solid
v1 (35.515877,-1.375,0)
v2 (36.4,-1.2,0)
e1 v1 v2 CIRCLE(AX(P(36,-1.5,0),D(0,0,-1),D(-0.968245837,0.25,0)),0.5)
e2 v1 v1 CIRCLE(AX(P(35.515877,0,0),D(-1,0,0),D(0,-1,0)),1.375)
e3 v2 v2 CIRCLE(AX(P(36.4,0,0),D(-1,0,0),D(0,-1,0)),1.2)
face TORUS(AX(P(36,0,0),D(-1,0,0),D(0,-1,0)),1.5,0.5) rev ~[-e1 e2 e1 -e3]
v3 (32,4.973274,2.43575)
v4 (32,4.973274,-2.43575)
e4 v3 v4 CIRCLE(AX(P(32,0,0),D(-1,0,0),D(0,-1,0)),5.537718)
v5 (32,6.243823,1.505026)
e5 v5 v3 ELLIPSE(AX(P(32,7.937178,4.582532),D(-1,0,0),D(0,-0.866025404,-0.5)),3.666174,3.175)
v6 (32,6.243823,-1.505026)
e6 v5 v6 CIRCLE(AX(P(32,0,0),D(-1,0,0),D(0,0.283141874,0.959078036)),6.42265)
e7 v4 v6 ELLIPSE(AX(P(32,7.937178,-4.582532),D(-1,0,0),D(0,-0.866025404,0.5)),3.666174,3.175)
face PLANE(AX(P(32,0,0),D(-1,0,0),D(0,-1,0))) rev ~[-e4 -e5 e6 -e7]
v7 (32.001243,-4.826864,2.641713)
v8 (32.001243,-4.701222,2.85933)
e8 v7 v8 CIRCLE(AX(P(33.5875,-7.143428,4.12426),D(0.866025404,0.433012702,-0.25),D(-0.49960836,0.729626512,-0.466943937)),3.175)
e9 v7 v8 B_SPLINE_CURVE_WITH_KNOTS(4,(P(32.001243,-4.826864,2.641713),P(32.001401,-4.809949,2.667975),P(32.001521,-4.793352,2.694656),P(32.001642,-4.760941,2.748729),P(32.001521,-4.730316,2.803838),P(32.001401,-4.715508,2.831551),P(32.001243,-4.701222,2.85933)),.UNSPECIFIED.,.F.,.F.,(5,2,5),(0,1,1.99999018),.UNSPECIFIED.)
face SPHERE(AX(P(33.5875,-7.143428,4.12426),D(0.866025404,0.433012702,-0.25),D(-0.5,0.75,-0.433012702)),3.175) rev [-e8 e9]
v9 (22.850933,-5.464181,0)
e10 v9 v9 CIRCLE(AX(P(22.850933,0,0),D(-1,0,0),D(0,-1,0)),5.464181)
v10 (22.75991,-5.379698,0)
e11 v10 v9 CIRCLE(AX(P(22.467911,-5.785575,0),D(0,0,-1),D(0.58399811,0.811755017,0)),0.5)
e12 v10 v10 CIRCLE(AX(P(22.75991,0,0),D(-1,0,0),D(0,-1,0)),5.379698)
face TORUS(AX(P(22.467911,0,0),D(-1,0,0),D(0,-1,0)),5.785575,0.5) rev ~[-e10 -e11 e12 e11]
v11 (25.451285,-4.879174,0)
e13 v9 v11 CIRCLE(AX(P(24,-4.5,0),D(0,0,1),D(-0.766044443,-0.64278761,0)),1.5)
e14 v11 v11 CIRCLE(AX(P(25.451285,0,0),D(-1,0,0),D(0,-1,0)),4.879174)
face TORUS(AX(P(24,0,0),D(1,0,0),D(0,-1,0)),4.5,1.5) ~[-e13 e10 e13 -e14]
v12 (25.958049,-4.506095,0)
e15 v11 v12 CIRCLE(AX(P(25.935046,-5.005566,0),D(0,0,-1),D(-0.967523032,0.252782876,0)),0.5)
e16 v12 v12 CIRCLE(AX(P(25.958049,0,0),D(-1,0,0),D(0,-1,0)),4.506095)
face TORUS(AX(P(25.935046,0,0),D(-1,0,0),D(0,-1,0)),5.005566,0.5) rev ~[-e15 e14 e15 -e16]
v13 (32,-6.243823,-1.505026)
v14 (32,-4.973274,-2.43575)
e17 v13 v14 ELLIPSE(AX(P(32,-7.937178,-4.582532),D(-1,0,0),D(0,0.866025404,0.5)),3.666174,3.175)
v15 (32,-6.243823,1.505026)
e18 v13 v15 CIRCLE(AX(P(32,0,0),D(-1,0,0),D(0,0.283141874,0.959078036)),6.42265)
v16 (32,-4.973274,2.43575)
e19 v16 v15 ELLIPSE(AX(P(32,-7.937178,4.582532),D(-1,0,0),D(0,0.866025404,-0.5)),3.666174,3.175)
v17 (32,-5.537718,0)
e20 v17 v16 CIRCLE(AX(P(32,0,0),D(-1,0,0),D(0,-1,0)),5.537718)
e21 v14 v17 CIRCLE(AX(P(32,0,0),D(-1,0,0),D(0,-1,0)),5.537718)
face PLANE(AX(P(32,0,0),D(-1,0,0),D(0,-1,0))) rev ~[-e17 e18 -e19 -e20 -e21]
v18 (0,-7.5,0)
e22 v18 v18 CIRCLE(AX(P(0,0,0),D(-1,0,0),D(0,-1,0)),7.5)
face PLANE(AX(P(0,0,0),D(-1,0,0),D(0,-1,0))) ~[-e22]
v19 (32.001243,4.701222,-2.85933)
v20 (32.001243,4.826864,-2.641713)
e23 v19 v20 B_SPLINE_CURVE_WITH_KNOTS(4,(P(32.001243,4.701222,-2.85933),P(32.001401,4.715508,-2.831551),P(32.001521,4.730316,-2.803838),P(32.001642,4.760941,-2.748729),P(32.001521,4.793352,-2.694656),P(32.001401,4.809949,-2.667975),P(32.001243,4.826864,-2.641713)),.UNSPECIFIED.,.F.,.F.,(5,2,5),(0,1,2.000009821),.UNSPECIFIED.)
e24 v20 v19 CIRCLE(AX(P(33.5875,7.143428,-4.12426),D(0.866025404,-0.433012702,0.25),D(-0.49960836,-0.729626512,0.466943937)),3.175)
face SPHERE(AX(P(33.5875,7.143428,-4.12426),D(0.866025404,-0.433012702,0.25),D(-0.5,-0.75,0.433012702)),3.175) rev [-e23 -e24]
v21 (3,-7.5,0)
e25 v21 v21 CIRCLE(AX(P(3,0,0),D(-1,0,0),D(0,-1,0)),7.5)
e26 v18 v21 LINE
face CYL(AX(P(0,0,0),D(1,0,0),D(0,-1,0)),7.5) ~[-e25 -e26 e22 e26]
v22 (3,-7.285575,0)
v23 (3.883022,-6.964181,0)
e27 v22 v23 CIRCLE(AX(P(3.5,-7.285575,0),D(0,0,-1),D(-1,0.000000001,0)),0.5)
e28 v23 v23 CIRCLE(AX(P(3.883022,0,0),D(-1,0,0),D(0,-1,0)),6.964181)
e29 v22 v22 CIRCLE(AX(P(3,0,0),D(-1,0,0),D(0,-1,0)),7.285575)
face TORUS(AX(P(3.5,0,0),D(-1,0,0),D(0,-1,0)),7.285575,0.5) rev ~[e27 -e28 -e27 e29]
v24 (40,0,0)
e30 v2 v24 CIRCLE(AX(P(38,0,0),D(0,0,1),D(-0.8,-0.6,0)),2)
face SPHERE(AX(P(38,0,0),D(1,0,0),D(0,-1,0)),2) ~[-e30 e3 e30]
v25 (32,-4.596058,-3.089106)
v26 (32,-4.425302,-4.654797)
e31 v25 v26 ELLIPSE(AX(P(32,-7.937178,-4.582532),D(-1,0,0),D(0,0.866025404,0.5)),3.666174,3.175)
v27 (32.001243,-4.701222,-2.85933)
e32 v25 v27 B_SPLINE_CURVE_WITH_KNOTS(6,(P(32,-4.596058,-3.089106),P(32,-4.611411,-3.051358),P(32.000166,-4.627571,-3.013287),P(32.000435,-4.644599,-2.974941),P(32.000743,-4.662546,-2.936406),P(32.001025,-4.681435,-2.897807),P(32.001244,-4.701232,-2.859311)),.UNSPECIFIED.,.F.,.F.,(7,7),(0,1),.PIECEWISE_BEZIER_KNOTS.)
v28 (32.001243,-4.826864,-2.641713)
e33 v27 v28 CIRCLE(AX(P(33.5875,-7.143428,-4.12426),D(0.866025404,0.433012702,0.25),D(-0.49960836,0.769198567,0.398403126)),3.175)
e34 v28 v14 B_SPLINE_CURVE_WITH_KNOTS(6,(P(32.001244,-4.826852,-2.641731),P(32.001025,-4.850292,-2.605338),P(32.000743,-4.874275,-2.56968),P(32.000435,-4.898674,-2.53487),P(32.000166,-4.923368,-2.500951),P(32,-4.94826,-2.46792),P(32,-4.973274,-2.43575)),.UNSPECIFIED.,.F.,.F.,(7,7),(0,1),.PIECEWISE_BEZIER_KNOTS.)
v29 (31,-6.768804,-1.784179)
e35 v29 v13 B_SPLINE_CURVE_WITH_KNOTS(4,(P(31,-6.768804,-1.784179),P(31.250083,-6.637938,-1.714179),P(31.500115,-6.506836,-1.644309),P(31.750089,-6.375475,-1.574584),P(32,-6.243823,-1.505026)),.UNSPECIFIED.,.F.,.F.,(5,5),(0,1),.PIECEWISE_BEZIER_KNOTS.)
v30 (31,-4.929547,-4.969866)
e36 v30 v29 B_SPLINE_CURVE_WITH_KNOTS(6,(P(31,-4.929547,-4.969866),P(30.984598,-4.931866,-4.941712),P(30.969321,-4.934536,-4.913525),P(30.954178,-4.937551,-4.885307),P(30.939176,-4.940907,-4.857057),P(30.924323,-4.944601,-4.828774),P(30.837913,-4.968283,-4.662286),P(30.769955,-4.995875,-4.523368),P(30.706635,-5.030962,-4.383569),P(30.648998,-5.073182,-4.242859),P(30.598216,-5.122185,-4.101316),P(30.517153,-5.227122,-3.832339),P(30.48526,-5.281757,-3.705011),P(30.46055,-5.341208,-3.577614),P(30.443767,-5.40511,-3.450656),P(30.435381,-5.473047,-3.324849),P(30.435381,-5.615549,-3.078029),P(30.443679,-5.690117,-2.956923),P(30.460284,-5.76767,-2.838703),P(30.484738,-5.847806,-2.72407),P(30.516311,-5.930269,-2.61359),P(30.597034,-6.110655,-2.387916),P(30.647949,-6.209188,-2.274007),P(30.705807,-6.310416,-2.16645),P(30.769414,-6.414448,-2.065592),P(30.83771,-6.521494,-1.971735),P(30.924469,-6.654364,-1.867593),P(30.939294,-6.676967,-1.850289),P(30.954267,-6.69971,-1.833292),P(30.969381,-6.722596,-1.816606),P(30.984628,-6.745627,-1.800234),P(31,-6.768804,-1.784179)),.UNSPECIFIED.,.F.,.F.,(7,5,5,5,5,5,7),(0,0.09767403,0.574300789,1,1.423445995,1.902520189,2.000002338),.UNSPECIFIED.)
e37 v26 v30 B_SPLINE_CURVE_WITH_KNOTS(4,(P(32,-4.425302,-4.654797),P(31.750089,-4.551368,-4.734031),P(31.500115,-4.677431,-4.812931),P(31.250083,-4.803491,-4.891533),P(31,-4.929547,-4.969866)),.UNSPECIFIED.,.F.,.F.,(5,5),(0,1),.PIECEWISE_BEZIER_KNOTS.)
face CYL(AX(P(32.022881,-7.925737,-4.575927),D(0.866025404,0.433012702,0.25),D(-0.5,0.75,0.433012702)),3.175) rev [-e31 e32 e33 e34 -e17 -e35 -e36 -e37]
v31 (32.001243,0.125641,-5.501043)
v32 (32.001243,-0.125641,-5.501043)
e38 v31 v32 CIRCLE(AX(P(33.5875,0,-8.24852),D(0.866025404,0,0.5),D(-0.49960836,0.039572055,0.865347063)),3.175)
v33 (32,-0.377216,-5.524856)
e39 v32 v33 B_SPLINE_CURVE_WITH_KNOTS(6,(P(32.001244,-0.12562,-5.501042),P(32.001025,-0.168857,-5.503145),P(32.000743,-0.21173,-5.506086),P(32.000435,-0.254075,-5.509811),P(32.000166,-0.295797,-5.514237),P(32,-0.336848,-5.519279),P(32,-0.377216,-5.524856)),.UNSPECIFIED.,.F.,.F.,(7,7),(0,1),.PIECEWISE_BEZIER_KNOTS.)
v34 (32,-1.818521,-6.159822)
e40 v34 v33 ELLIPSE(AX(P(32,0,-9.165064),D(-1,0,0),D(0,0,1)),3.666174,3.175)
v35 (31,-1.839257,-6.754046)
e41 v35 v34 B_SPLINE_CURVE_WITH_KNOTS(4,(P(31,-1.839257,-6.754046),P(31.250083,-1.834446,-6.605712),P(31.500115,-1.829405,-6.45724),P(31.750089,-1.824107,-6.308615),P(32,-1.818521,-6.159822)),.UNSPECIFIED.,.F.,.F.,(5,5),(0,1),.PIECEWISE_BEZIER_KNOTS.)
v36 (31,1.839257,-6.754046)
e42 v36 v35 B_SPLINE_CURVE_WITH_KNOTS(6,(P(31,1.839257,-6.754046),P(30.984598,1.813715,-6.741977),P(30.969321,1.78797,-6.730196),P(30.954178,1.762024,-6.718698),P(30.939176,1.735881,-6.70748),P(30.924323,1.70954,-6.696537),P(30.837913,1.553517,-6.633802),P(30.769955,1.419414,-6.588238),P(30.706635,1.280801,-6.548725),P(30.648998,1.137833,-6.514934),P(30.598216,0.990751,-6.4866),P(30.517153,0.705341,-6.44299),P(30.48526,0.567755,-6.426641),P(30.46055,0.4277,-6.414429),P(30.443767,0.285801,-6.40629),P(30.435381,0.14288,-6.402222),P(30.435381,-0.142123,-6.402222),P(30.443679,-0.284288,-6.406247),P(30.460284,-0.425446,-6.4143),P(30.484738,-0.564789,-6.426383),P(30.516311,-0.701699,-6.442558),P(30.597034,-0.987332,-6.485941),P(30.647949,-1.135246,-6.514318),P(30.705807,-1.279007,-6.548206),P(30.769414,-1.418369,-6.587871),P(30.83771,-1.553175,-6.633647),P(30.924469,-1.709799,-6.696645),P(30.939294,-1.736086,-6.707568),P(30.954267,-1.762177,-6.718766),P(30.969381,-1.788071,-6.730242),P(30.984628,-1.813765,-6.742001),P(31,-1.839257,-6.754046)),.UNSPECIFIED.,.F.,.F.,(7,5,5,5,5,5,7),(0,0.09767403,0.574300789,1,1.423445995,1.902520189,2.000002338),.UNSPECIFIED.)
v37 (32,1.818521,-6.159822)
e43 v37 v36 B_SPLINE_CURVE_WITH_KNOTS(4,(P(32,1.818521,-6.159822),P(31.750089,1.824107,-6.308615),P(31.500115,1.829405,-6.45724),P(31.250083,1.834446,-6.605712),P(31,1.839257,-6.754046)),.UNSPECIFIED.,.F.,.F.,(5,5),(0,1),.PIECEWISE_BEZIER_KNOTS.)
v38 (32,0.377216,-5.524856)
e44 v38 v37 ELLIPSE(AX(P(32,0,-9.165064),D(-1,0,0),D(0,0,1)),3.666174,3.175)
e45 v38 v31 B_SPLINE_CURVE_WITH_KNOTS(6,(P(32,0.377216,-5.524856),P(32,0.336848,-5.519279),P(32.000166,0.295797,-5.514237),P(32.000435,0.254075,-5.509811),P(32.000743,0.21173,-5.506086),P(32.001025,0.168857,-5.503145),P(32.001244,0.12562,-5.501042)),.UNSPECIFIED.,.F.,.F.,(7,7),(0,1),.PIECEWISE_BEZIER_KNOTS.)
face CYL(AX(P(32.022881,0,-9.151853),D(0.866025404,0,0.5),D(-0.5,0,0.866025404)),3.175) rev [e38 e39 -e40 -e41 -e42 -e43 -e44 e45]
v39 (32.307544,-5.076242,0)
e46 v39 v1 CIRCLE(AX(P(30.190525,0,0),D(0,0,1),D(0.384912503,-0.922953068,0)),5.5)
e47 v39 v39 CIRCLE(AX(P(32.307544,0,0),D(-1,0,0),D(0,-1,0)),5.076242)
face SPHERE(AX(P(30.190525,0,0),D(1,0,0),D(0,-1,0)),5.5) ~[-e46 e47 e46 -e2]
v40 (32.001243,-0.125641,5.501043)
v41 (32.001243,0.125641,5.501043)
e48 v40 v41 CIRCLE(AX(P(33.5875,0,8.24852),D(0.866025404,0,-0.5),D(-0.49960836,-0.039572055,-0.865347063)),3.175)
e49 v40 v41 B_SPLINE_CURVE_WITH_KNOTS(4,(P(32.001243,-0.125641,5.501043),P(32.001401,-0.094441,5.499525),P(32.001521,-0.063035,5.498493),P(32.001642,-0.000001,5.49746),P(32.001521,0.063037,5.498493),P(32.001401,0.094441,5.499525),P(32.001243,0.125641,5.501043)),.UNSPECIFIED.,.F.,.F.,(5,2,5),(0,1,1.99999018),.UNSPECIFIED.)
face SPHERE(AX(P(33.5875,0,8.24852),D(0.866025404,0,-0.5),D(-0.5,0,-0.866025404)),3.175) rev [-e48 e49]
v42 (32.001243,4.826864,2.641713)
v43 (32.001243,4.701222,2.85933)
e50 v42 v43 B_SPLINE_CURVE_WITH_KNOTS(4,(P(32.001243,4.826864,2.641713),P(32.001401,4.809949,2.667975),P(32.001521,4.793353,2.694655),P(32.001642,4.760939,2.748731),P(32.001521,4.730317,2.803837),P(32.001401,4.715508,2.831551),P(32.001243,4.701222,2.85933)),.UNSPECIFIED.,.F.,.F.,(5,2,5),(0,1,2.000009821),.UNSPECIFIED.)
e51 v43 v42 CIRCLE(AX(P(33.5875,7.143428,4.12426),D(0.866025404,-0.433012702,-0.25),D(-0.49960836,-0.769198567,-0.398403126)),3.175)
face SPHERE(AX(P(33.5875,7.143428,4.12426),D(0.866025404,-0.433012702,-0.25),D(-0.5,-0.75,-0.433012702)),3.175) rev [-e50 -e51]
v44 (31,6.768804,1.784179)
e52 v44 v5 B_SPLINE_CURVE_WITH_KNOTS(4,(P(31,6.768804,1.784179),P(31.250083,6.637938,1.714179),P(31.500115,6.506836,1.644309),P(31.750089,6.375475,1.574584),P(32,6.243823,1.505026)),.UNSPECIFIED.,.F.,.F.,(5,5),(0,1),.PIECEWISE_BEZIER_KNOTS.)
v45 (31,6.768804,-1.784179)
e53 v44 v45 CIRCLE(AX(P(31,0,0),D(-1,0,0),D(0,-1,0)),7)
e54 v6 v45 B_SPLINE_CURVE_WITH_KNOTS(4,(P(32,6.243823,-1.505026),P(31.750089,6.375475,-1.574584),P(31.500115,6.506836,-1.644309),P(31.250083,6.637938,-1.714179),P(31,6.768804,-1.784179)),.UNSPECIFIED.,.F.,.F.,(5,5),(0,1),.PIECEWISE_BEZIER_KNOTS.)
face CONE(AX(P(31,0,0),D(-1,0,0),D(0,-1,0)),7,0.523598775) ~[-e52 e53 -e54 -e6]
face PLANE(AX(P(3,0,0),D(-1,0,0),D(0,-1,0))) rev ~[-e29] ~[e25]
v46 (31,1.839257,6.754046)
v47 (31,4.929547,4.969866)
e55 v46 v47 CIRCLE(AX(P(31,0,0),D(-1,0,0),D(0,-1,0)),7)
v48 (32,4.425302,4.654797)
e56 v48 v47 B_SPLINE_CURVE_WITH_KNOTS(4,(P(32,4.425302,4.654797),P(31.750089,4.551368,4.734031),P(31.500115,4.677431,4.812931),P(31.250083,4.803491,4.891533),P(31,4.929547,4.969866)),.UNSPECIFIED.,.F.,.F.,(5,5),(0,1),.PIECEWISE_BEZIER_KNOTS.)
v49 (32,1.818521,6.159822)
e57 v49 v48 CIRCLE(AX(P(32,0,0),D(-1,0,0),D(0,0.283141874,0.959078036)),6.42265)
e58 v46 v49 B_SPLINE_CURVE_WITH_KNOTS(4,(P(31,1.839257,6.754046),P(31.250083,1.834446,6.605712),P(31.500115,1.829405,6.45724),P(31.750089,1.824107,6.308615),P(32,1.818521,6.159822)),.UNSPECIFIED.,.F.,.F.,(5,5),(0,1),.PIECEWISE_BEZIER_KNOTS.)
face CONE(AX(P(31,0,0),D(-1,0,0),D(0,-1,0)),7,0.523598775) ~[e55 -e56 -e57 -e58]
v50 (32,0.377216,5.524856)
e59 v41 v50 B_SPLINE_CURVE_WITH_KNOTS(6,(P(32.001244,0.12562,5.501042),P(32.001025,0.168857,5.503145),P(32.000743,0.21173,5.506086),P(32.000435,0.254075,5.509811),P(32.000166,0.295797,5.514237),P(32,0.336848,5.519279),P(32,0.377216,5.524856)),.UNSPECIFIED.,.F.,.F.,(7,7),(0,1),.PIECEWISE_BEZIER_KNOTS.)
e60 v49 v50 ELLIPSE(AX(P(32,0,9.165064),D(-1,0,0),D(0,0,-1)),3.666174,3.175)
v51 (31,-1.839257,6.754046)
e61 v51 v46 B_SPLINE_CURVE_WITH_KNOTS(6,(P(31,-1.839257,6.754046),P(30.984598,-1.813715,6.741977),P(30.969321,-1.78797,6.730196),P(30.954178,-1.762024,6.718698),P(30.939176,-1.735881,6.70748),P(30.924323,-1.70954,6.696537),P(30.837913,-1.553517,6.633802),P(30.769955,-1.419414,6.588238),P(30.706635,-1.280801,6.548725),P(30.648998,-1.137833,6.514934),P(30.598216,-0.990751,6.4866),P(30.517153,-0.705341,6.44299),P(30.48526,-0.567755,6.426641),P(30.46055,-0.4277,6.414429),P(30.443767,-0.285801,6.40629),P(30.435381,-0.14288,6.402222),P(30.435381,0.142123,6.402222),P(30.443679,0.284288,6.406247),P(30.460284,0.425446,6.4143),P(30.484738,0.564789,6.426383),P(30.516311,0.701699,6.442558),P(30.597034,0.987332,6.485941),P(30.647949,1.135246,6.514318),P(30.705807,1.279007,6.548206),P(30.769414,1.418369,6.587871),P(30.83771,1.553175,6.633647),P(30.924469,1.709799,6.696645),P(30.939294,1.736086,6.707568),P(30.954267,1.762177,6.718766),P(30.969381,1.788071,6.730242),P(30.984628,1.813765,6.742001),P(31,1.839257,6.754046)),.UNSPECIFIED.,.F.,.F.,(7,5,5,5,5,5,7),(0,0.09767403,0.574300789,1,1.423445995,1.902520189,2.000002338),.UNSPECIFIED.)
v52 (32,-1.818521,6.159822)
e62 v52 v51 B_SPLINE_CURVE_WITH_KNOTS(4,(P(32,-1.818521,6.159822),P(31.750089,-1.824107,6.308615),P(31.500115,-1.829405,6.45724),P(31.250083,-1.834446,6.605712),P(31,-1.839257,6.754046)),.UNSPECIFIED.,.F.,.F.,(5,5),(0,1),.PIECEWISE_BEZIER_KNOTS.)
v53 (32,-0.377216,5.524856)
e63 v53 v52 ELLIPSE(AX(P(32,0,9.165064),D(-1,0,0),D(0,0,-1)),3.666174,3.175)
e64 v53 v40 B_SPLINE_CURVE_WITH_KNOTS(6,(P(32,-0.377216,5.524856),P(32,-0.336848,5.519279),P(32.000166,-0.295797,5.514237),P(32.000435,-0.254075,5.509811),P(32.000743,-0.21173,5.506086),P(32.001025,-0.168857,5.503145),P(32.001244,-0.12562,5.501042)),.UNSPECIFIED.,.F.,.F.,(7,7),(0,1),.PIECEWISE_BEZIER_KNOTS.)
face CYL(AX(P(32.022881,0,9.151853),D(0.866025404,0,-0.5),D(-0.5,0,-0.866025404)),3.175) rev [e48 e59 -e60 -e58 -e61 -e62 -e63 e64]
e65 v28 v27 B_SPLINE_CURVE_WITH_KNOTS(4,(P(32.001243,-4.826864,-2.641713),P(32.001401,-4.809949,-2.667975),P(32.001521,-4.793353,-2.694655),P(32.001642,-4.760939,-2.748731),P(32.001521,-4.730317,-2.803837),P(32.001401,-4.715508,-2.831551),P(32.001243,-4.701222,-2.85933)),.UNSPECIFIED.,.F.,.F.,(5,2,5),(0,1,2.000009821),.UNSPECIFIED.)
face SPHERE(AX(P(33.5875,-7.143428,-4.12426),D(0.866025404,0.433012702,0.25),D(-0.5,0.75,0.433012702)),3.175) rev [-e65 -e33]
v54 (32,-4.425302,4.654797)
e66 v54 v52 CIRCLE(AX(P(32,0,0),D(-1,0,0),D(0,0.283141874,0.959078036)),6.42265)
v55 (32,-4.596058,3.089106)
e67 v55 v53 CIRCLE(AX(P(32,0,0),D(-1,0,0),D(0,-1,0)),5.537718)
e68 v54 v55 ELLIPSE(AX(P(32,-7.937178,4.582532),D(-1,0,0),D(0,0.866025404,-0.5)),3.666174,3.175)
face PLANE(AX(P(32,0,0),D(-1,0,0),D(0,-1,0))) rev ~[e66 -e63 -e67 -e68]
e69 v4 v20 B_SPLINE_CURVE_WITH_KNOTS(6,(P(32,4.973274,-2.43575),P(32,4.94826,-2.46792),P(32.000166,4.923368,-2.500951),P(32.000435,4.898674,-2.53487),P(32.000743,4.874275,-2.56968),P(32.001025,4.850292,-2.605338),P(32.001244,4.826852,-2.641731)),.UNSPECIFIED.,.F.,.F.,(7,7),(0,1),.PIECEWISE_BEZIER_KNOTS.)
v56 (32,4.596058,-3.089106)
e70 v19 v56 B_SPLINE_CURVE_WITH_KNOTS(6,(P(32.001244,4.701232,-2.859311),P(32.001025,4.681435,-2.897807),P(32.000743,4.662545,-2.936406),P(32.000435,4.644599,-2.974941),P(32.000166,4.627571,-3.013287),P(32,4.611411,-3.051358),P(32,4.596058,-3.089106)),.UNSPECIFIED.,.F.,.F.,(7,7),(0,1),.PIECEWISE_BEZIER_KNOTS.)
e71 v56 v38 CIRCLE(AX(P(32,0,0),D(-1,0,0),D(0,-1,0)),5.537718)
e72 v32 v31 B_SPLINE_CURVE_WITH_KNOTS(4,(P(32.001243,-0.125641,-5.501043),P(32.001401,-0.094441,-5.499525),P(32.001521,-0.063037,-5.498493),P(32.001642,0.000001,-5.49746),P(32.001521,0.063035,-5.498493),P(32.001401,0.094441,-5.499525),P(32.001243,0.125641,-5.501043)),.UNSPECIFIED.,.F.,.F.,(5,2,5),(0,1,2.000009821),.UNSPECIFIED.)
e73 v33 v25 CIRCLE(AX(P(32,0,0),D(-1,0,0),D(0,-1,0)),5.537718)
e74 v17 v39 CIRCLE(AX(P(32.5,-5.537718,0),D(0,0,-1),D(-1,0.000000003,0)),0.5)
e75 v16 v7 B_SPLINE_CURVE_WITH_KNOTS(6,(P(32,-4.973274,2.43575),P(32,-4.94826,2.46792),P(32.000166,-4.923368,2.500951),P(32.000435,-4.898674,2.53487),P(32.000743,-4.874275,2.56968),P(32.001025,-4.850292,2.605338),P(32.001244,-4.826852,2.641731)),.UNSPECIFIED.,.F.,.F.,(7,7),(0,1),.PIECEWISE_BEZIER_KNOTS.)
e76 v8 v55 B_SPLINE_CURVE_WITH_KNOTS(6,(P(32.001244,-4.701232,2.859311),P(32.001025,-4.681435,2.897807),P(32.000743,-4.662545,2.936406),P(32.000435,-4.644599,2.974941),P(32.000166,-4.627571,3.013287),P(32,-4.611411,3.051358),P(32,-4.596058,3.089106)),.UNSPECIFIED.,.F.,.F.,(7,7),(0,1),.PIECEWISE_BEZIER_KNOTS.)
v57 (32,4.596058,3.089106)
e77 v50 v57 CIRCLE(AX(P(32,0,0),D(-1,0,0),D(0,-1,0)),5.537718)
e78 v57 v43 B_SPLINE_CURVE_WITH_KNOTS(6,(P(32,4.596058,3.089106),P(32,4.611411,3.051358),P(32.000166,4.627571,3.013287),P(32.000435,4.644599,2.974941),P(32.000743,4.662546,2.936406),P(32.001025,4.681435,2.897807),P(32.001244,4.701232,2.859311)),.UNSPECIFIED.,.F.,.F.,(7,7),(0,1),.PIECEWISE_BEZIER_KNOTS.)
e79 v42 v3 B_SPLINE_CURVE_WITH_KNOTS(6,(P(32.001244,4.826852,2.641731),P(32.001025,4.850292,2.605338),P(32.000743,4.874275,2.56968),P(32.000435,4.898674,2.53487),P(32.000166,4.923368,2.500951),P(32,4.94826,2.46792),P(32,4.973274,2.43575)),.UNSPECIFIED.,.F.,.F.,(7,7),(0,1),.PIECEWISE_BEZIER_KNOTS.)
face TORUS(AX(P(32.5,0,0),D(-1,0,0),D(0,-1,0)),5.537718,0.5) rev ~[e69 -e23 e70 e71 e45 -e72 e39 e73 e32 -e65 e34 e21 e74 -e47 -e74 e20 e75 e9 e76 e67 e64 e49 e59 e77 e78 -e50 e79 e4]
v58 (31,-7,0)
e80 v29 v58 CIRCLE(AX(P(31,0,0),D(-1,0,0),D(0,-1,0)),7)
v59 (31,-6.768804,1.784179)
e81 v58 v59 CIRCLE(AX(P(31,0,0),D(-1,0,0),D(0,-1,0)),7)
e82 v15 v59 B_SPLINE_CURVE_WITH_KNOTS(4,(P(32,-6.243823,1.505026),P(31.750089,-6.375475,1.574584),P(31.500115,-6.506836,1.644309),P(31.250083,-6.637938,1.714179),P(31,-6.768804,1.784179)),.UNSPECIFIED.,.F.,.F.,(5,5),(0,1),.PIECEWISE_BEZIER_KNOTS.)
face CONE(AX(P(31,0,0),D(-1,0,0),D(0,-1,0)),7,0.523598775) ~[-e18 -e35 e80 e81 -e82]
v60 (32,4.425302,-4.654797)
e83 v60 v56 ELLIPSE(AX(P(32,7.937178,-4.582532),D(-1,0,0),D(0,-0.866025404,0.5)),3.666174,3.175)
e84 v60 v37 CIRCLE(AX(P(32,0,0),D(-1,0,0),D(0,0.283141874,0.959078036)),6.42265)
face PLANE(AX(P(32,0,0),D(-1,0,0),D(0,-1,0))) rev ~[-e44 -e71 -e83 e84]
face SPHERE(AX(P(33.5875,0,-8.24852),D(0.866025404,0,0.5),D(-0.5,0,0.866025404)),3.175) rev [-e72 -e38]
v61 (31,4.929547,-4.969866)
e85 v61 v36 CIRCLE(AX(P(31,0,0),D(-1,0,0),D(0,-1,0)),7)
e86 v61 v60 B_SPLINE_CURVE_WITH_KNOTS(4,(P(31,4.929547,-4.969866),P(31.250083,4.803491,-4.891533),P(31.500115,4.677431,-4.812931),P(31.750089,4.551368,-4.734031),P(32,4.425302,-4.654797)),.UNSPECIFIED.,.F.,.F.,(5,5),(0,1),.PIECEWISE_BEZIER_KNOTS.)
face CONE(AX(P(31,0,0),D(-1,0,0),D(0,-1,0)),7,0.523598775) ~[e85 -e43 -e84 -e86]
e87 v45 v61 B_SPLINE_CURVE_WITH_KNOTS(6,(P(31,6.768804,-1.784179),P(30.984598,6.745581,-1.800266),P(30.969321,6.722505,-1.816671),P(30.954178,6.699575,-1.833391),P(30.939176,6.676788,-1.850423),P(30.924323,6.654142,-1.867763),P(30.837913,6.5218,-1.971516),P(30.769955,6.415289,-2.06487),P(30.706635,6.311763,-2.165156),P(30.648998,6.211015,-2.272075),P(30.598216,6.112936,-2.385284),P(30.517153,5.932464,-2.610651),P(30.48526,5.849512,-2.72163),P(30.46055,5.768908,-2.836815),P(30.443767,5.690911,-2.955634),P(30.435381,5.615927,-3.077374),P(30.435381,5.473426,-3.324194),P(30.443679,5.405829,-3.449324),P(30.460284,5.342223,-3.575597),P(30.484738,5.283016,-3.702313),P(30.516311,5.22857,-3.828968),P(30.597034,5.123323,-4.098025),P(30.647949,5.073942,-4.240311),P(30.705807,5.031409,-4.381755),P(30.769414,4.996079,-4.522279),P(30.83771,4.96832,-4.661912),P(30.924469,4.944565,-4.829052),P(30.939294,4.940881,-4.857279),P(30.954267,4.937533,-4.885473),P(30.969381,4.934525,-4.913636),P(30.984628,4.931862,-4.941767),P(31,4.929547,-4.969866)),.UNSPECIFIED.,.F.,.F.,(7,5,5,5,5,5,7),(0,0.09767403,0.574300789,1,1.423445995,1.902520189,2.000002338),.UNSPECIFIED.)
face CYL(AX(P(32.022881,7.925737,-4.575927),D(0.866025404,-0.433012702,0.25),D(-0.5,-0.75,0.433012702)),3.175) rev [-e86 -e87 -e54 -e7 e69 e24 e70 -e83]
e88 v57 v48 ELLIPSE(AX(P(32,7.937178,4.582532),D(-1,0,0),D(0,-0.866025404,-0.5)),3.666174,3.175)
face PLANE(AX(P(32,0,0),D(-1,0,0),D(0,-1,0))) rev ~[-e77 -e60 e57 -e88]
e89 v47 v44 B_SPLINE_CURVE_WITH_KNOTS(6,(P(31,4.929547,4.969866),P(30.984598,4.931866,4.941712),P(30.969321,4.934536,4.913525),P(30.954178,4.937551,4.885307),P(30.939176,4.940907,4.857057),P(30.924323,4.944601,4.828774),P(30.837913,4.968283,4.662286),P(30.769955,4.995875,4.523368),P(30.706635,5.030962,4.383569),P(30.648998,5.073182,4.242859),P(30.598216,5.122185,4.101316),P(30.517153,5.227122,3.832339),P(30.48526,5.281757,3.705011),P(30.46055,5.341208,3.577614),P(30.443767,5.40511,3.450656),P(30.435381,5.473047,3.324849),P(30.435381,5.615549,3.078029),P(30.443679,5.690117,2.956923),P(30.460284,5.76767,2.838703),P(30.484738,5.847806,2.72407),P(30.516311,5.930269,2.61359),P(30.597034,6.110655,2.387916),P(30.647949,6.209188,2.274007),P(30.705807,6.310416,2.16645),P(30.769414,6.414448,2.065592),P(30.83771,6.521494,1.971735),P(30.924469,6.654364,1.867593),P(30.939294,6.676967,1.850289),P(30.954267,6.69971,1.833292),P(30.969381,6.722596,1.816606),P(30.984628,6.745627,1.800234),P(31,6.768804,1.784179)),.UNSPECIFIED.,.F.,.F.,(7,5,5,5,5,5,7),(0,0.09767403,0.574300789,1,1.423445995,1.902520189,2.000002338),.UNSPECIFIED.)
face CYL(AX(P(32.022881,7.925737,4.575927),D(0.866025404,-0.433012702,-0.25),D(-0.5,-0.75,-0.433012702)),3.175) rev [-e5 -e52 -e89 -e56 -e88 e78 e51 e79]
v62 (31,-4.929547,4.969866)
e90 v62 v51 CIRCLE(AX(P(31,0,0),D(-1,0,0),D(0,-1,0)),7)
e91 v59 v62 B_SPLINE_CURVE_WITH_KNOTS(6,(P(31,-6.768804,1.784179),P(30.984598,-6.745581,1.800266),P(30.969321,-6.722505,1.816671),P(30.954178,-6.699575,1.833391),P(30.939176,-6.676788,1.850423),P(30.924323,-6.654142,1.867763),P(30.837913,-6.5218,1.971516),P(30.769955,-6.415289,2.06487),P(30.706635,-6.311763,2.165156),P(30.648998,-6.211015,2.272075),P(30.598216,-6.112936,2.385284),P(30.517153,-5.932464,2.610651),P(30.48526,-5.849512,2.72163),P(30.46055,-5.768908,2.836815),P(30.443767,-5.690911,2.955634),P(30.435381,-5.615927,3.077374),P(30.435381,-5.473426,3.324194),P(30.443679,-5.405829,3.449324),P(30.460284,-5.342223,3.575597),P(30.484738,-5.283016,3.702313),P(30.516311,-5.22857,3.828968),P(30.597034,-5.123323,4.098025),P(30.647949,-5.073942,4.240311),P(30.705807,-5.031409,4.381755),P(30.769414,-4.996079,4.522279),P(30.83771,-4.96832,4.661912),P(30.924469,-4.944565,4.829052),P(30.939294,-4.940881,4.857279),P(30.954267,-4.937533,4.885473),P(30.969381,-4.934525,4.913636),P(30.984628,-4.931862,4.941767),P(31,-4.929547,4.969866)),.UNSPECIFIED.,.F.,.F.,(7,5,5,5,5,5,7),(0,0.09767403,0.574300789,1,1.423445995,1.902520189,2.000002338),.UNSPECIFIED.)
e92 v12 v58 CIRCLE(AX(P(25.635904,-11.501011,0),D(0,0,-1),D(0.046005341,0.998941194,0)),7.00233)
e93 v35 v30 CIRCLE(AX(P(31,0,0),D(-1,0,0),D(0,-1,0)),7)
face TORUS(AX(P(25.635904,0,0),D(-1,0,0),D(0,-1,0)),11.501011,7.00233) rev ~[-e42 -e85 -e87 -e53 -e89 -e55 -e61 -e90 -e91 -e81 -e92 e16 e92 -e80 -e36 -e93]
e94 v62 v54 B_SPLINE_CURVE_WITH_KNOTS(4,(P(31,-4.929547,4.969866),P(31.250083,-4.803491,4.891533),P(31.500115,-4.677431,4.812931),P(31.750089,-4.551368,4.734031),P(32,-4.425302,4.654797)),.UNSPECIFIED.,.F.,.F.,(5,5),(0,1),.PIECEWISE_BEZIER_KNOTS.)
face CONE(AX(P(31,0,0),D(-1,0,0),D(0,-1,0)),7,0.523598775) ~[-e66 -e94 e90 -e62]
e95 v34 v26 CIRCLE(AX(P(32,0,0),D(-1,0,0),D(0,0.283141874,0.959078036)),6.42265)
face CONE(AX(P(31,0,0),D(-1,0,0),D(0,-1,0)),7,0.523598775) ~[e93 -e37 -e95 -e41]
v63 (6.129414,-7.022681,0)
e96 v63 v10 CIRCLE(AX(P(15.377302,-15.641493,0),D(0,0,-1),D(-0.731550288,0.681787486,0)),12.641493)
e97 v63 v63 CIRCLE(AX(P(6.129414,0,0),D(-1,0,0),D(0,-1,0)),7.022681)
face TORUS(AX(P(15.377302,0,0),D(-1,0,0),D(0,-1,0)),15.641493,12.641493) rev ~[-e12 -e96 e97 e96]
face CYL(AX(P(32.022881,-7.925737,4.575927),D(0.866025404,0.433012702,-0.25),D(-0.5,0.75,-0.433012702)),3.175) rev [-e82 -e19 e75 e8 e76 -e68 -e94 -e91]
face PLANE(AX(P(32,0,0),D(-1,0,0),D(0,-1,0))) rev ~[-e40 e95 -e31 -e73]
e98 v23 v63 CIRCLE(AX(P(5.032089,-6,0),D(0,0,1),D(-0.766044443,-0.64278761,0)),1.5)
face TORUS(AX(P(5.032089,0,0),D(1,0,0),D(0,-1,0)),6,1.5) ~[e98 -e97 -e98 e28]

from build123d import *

# Parameters (mm, degrees)
CIRPATTERN1_COUNT = 6


with BuildPart() as part:
    # Sketch1 → Revolve1 (revolve)
    with BuildSketch(Plane.XY):
        with BuildLine():
            Line((0, 0), (0, -7.5))
            Line((0, -7.5), (3, -7.5))
            Line((3, -7.5), (3, -7.285575219))
            ThreePointArc((3, -7.285575219), (3.328989928, -6.815728909), (3.883022222, -6.964181415))
            ThreePointArc((3.883022222, -6.964181415), (4.993039611, -7.499491632), (6.129414318, -7.022681229))
            ThreePointArc((6.129414318, -7.022681229), (14.134456246, -3.06124342), (22.759910174, -5.379697715))
            ThreePointArc((22.759910174, -5.379697715), (22.808054917, -5.419102583), (22.850933335, -5.464181415))
            ThreePointArc((22.850933335, -5.464181415), (24.329229771, -5.963423301), (25.45128455, -4.879174305))
            ThreePointArc((25.45128455, -4.879174305), (25.638614467, -4.602914147), (25.958048738, -4.506095144))
            ThreePointArc((25.958048738, -4.506095144), (28.740452901, -5.224515013), (31, -7))
            Line((31, -7), (32, -6.422649731))
            Line((32, -6.422649731), (32, -5.537718405))
            ThreePointArc((32, -5.537718405), (32.083930219, -5.26043527), (32.307543748, -5.076241871))
            ThreePointArc((32.307543748, -5.076241871), (34.346486829, -3.602496511), (35.515877082, -1.375))
            ThreePointArc((35.515877082, -1.375), (35.902915417, -1.00951597), (36.4, -1.2))
            ThreePointArc((36.4, -1.2), (38.632455532, -1.897366596), (40, 0))
            Line((40, 0), (0, 0))
        make_face()
    revolve(axis=Axis((0, 0, 0), (-1, 0, 0)))

    # Sketch2 → Cut-Revolve1 (revolve, cut)
    with BuildSketch(Plane(origin=(0, 0, 0), x_dir=(1, 0, 0), z_dir=(0, 1, 0))):
        with BuildLine():
            Line((30.435381148, -6.402222415), (32, -5.4988893))
            ThreePointArc((32, -5.4988893), (34.409250468, -5.181705459), (36.337130657, -6.661019957))
            Line((36.337130657, -6.661019957), (29.273250491, -10.739353072))
            ThreePointArc((29.273250491, -10.739353072), (28.95606665, -8.330102604), (30.435381148, -6.402222415))
        make_face()
    cut_revolve1 = revolve(axis=Axis((29.581143931, 0, 10.561590712), (-0.8660254037844308, 0, 0.5000000000000135)), mode=Mode.SUBTRACT)

    # CirPattern1: Cut-Revolve1 ×6 about axis
    cirpattern1_axis = Axis((0, 0, 0), (1, 0, 0))
    for i in range(1, CIRPATTERN1_COUNT):
        add(cut_revolve1.rotate(cirpattern1_axis, i * 360 / CIRPATTERN1_COUNT), mode=Mode.SUBTRACT)


solid = part.part
